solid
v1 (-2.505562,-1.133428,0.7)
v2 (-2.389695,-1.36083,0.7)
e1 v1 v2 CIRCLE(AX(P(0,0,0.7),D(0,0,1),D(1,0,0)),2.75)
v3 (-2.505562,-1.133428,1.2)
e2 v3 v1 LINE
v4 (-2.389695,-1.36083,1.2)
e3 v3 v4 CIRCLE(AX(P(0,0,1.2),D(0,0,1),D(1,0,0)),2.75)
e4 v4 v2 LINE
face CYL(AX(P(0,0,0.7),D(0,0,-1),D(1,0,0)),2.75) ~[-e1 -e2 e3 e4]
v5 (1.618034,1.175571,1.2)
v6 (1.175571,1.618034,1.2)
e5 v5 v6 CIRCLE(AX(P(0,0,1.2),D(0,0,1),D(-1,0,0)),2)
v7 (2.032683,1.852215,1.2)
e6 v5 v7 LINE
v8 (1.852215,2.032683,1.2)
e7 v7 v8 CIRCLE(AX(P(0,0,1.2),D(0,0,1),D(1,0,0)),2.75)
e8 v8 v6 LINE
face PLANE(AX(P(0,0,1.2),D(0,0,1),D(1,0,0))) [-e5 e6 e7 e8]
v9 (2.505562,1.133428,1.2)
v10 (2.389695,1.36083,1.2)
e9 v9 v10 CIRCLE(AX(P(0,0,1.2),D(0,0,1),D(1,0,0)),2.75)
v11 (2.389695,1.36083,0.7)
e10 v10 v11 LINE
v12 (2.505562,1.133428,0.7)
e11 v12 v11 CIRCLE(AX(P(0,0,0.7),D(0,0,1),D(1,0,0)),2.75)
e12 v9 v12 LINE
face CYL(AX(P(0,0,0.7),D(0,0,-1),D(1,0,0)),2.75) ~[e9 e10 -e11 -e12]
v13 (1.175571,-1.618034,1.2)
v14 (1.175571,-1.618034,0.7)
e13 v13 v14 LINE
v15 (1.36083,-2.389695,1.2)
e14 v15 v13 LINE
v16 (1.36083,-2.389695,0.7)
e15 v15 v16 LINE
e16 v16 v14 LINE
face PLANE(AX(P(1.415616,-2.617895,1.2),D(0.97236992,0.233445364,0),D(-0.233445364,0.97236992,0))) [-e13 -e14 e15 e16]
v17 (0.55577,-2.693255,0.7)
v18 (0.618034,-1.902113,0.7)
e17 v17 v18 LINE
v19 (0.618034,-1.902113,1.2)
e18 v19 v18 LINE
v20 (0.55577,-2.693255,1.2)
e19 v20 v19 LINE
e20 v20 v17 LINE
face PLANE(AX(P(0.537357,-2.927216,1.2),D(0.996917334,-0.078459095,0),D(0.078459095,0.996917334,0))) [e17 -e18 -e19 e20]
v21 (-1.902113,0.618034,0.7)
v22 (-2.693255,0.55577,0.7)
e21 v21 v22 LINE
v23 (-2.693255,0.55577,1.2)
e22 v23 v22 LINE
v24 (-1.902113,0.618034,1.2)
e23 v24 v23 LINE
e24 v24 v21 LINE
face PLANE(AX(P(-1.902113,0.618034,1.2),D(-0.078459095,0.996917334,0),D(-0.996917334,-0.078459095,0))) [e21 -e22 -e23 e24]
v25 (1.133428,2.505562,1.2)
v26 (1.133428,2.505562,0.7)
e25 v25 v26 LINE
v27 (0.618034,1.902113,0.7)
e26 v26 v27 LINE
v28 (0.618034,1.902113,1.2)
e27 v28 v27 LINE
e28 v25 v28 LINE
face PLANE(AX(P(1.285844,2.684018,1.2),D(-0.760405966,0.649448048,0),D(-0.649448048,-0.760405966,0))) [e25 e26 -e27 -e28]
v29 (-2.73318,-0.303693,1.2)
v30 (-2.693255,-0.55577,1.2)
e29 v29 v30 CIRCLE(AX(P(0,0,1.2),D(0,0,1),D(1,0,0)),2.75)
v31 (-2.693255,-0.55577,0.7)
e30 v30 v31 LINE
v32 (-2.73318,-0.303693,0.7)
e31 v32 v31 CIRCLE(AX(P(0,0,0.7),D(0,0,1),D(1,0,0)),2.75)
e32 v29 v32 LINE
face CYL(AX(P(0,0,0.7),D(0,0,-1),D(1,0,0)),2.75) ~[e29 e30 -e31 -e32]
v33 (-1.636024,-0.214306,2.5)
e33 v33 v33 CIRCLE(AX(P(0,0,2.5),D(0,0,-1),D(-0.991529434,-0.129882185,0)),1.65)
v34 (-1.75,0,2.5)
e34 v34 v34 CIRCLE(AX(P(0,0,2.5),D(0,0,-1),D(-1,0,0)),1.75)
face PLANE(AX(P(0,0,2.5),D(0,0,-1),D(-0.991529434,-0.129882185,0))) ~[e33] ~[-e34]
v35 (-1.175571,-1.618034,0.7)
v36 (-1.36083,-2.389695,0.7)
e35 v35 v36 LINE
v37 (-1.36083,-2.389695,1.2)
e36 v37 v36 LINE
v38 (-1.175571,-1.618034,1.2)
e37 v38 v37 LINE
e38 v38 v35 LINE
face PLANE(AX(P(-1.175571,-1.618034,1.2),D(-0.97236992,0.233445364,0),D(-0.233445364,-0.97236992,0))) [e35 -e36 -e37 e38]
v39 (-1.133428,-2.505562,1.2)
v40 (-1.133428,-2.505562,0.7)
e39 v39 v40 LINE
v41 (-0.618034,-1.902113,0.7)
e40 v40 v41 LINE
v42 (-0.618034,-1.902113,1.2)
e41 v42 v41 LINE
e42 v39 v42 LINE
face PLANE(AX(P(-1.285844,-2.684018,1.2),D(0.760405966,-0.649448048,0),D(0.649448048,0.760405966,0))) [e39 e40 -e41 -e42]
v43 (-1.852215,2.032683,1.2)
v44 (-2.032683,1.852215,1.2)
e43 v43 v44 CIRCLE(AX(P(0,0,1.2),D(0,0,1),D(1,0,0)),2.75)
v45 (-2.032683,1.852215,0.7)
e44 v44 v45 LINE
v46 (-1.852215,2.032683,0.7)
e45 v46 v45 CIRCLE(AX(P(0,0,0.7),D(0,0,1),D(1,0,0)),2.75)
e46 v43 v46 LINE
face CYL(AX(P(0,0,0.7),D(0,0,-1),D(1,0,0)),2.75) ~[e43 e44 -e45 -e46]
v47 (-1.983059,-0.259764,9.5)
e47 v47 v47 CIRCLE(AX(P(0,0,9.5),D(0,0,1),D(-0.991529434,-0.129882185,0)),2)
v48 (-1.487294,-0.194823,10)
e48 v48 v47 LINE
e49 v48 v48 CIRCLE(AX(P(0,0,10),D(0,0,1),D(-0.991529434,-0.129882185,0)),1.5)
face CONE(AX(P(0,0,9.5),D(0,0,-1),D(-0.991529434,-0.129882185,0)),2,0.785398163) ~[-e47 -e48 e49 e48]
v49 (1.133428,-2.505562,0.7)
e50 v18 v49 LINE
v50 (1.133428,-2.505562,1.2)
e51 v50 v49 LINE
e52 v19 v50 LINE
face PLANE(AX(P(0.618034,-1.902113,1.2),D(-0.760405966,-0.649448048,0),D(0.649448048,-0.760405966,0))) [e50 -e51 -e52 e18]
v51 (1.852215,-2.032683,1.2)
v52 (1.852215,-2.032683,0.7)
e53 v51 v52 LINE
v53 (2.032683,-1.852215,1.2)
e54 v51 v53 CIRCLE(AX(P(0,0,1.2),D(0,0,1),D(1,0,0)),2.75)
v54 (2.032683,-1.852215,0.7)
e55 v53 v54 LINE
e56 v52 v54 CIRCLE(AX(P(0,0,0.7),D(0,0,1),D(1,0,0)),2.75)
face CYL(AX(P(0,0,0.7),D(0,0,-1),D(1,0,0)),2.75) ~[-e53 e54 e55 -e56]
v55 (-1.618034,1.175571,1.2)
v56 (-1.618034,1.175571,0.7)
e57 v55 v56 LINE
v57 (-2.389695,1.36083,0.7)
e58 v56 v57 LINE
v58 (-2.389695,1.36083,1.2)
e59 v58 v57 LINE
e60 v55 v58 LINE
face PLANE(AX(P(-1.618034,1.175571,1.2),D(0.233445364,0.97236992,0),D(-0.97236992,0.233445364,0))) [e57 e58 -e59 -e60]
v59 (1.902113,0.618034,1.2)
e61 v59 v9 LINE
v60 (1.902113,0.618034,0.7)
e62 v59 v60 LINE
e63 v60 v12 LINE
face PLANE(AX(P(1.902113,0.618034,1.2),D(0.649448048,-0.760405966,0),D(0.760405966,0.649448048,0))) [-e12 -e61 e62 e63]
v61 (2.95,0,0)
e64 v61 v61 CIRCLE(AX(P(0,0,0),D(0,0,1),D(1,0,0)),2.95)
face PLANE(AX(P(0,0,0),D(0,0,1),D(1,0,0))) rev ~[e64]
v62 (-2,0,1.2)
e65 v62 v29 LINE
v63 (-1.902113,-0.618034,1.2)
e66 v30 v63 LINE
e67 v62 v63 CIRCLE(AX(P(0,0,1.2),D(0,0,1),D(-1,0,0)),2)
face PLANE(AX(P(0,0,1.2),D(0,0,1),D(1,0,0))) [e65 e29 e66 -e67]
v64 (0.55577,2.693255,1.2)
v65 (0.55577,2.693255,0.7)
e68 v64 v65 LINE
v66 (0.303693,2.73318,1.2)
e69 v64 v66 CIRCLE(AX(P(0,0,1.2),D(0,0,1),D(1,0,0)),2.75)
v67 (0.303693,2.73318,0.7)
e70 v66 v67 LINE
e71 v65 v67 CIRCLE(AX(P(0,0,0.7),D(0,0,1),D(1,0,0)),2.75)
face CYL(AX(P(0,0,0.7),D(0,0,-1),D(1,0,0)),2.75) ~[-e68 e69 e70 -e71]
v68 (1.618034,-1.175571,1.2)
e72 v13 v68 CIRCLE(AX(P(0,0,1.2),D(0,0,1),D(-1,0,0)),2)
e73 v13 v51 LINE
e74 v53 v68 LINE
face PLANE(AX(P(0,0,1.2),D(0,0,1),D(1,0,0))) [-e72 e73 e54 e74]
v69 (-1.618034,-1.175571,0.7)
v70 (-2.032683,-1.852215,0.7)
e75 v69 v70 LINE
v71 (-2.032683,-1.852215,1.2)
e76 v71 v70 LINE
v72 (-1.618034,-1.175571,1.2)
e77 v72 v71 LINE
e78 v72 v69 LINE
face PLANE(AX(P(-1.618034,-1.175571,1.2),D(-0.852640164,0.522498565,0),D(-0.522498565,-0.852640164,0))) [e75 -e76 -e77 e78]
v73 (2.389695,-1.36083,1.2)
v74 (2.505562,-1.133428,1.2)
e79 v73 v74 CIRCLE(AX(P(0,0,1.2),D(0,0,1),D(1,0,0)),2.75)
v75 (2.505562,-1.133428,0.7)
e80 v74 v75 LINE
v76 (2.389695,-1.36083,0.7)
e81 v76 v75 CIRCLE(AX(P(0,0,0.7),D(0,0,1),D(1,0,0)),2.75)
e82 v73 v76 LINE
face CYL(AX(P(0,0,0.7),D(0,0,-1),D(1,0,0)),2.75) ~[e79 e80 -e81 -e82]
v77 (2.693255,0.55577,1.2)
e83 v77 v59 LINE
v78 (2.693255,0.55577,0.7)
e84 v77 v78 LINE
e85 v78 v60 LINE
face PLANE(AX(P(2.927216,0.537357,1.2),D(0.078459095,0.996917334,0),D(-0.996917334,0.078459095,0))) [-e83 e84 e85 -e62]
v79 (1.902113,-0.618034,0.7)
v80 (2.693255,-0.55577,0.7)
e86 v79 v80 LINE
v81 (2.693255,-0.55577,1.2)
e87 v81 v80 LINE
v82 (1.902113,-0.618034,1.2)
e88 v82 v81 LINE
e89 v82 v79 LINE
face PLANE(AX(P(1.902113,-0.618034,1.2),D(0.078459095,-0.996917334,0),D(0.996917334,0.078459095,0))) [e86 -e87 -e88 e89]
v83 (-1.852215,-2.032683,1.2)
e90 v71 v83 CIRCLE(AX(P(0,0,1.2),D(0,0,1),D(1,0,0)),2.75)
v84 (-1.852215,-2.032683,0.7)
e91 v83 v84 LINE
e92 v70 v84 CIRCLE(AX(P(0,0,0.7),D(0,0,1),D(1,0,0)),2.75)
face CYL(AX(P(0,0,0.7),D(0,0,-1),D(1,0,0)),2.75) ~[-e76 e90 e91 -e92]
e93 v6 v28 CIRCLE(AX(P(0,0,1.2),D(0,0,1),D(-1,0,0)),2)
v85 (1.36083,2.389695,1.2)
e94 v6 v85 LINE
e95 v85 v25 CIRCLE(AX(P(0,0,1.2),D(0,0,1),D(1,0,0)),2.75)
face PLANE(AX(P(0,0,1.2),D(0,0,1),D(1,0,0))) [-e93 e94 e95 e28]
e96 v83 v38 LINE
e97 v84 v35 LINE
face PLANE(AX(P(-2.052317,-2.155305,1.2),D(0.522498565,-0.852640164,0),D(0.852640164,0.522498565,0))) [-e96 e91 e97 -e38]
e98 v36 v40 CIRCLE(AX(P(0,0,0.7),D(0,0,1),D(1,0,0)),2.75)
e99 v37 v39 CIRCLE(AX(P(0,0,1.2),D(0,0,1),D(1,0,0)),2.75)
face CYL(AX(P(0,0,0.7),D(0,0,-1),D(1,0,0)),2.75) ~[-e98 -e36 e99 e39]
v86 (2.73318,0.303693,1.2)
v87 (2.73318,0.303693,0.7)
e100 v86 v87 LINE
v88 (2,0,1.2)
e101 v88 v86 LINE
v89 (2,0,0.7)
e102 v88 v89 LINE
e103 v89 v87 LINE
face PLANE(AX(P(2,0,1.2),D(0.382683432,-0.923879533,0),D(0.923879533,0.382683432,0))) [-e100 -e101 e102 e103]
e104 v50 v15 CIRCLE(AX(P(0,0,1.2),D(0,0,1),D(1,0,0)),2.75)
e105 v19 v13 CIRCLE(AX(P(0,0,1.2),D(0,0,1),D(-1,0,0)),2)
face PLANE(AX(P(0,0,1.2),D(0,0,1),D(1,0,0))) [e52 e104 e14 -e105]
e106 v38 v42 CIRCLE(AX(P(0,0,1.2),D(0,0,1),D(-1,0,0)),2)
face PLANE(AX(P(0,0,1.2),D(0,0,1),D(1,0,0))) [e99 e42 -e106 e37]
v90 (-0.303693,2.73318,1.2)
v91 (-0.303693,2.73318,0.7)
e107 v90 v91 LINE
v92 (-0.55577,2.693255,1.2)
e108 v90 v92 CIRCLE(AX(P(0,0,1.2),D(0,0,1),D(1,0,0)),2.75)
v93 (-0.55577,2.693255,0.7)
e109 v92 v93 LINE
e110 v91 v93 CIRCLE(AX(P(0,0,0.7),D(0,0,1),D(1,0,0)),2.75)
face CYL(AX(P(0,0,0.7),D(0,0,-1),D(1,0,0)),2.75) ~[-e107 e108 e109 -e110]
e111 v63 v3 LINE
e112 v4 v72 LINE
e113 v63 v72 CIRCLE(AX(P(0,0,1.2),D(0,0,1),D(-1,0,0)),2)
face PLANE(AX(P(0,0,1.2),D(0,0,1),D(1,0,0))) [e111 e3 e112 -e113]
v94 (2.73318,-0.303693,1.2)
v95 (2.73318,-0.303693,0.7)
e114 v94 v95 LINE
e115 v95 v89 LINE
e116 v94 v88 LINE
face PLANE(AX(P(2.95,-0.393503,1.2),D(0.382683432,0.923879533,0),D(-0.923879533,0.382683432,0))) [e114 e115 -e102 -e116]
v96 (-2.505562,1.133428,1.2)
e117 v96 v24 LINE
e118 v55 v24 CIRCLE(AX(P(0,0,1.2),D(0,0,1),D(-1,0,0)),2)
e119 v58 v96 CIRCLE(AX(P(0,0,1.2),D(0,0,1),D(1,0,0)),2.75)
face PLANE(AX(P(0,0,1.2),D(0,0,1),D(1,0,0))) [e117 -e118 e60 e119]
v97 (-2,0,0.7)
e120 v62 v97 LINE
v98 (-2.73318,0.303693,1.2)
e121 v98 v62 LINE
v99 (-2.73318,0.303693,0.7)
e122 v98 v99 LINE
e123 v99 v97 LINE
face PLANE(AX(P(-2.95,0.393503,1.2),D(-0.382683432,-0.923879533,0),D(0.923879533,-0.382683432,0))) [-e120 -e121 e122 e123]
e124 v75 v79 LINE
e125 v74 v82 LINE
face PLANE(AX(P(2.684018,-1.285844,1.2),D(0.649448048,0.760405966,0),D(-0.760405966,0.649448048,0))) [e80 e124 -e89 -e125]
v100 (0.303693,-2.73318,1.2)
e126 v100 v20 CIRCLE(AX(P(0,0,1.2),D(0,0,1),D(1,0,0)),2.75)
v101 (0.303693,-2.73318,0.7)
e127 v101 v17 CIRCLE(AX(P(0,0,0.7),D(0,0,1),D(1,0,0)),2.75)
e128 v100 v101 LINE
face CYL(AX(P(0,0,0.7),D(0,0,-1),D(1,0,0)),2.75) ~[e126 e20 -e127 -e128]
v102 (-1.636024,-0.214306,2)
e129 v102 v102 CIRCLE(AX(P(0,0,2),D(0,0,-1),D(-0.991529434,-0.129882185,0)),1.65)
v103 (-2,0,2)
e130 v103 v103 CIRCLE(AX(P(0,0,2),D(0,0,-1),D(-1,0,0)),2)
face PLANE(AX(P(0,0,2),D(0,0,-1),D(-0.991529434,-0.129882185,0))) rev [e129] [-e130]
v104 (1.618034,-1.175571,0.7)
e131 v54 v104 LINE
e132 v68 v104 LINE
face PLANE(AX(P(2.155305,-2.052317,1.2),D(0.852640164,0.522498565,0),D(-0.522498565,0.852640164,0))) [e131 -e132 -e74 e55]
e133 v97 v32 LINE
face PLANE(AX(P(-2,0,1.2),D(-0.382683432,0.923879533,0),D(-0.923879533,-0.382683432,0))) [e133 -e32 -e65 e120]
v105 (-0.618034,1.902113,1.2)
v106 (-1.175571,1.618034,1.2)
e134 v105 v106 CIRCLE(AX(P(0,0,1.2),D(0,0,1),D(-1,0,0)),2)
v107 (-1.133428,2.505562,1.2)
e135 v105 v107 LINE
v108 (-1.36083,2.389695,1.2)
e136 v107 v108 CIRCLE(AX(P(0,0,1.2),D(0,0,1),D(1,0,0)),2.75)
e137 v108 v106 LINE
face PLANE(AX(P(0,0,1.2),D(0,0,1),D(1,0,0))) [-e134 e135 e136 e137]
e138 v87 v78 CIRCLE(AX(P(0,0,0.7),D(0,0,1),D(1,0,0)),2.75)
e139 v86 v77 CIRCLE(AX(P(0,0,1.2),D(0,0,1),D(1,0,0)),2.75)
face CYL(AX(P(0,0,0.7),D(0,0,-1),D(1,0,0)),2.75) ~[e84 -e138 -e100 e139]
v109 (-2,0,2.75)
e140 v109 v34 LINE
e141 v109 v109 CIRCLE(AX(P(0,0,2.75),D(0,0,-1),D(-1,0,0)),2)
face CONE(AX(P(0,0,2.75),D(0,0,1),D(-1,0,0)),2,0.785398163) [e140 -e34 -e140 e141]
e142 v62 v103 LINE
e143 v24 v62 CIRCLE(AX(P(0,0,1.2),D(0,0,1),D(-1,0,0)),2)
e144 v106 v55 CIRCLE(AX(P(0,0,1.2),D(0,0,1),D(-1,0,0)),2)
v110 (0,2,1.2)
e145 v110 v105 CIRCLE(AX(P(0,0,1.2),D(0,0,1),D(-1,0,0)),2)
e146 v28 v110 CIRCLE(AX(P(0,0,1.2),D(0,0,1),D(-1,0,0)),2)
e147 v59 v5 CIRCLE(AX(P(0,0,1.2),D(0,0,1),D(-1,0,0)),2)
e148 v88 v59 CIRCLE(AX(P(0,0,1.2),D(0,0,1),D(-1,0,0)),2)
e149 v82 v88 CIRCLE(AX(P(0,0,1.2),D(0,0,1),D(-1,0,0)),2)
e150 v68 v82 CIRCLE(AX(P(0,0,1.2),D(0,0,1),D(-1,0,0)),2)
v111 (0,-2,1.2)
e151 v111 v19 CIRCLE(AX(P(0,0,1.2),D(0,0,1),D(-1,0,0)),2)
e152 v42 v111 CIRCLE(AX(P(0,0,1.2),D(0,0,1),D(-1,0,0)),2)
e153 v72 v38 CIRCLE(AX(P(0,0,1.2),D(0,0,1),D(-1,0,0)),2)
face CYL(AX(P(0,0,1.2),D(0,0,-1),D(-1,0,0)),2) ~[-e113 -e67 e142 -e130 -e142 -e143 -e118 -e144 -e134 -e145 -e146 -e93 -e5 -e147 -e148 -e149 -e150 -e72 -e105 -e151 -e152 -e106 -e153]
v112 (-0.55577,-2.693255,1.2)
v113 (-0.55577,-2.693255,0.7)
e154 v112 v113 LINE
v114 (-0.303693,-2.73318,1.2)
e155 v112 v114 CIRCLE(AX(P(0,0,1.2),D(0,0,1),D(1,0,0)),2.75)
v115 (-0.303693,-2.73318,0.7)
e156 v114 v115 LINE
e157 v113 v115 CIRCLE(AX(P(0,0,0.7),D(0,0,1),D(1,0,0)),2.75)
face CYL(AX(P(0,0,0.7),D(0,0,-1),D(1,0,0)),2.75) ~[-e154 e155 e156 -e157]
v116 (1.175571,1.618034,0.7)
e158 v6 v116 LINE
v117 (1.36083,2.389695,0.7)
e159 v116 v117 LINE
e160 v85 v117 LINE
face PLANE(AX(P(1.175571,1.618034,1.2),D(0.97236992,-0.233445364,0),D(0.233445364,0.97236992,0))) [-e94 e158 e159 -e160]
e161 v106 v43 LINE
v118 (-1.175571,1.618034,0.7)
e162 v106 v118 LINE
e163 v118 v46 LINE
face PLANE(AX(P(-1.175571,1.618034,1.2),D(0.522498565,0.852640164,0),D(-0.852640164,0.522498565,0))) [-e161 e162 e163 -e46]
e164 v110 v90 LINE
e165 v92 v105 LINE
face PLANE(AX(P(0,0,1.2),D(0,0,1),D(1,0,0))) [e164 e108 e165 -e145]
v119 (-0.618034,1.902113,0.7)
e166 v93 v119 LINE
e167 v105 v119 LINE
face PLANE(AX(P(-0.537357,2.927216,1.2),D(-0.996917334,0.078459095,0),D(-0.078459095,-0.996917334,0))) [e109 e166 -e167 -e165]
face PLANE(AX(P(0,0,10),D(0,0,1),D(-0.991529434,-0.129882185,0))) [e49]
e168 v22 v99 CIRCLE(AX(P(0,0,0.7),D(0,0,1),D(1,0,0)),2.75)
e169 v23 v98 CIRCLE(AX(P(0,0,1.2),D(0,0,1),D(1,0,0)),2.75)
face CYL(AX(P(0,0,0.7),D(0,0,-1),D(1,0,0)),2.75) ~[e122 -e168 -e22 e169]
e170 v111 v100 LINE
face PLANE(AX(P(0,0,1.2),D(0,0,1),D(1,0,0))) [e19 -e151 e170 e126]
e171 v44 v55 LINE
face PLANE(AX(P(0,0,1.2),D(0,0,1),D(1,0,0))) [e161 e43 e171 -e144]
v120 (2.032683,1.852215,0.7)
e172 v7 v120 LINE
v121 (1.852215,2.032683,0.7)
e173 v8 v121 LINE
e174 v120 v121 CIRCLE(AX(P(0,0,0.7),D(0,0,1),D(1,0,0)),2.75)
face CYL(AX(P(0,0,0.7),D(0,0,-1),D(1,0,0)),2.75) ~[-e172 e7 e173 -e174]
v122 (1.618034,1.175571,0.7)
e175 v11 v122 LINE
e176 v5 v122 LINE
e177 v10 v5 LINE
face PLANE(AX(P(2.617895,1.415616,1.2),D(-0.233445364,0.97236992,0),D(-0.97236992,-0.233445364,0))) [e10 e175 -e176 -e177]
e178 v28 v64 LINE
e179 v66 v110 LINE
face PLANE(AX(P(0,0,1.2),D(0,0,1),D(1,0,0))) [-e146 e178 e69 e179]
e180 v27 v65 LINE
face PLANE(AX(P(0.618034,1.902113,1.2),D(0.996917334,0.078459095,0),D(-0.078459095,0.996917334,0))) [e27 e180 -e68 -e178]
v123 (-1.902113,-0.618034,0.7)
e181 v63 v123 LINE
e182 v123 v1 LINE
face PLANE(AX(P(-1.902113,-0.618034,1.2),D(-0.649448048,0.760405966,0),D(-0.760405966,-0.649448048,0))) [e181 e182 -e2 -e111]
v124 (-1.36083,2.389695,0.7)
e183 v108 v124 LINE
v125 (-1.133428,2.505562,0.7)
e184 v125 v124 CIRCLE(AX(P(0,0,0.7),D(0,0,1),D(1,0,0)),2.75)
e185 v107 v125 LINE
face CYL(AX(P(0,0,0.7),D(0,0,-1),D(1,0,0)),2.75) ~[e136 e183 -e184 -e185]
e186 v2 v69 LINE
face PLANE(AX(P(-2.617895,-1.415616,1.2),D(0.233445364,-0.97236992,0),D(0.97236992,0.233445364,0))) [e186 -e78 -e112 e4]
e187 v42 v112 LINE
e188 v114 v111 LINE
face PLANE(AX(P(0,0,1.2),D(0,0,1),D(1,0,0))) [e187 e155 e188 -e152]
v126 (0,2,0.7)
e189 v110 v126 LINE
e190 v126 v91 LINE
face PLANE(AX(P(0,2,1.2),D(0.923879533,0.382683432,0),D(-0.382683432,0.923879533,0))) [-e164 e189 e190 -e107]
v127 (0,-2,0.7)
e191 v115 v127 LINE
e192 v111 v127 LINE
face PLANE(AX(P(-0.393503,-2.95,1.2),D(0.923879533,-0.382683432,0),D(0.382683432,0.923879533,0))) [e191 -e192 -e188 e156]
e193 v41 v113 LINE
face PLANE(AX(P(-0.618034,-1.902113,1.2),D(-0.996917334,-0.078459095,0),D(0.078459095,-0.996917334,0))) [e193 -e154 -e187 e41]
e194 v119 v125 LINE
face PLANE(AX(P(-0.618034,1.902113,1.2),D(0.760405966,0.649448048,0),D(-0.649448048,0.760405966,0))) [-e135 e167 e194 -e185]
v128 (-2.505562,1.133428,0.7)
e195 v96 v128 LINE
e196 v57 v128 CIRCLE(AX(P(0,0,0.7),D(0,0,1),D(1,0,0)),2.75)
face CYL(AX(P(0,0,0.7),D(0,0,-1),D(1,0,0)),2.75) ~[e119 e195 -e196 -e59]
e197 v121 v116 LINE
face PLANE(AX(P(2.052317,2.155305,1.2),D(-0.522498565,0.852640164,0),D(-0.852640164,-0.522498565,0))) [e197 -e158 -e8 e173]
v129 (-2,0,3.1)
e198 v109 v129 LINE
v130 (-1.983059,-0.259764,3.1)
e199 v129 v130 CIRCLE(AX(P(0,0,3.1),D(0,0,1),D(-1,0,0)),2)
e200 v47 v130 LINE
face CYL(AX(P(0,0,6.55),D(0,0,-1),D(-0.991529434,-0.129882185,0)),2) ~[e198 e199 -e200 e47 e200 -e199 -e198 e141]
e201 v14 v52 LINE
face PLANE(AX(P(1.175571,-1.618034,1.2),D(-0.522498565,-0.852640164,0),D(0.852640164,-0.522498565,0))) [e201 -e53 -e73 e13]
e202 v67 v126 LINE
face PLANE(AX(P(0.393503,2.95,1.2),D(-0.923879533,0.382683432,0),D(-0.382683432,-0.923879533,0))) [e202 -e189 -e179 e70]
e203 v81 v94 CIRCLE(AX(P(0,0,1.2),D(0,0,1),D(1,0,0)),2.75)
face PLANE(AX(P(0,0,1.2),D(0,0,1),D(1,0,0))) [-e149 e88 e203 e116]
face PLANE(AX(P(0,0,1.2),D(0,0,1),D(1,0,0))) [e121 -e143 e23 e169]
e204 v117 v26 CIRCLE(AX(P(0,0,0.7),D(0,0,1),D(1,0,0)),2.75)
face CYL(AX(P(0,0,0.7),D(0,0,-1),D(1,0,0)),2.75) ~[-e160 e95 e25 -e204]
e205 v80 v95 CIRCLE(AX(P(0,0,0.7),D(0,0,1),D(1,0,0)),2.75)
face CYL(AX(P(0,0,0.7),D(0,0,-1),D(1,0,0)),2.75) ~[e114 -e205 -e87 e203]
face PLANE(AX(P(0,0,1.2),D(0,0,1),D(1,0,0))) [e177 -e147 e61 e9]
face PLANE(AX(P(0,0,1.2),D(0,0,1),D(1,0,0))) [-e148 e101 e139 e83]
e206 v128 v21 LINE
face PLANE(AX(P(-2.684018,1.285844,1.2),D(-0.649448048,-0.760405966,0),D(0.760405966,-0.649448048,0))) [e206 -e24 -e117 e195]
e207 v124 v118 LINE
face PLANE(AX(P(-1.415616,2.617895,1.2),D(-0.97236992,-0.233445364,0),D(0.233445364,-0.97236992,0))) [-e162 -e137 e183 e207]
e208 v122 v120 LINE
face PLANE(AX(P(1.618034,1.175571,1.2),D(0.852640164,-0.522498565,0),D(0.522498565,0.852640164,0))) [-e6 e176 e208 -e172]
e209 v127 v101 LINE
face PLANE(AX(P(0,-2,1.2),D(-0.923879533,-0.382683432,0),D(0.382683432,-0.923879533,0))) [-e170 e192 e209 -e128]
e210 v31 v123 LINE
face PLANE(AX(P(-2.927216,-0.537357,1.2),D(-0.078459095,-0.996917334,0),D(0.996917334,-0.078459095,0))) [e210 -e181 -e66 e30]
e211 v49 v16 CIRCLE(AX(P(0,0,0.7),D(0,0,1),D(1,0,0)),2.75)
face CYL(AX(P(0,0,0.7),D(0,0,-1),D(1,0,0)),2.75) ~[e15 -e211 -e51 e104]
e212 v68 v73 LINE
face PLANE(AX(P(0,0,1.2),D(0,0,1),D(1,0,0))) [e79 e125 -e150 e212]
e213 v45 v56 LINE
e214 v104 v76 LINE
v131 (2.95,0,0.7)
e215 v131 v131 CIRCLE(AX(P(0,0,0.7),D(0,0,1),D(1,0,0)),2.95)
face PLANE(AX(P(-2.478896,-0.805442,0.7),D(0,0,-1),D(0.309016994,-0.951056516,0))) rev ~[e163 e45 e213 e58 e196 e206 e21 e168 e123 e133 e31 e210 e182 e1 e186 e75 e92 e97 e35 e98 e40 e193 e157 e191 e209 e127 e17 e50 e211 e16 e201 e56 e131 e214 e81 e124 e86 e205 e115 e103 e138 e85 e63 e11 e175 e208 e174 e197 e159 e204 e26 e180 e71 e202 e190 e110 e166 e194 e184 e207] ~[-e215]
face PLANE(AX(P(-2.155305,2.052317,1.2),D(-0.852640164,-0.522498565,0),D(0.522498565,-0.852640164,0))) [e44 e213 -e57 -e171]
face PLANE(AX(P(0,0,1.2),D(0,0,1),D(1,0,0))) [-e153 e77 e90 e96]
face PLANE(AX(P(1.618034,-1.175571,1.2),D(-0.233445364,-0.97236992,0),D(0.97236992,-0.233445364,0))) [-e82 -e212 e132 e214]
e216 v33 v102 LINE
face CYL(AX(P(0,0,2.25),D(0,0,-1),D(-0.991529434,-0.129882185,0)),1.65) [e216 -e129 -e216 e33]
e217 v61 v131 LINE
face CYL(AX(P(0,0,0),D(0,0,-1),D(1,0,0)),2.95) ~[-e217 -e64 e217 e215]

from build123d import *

# Parameters (mm, degrees)
SKETCH_1_R               = 2.95
EXTRUDE_1_DEPTH          = 1.2
SKETCH_2_R               = 2
EXTRUDE_2_DEPTH          = 1.9
CUT_EXTRUDE_1_DEPTH      = 0.5
PATTERN_CIRCULAR_1_COUNT = 20
SKETCH_4_W               = 0.35
SKETCH_4_H               = 0.5
SKETCH_6_W               = 6.9
SKETCH_6_H               = 2
CHAMFER_2_SIZE           = 0.5
CUT_EXTRUDE_START        = -0.5
SKETCH_7_R               = 2.95
SKETCH_7_R_2             = 2.75
CUT_EXTRUDE_2_DEPTH      = 0.5
CHAMFER_3_SIZE           = 0.25


with BuildPart() as part:
    # Эскиз1 → Вытянуть1 (new body)
    with BuildSketch(Plane.XY):
        Circle(SKETCH_1_R)
    extrude(amount=EXTRUDE_1_DEPTH)

    # Эскиз2 → Вытянуть2 (add)
    with BuildSketch(Plane.XY.offset(1.2)):
        with Locations(Location((0, 0, 0), (0, 0, 180))):
            Circle(SKETCH_2_R)
    extrude(amount=EXTRUDE_2_DEPTH)

    # Эскиз3 → Вырез-Вытянуть1 (cut)
    with BuildSketch(Plane.XY.offset(1.2)):
        Polygon((-0.393502884, 2.95), (0.393502884, 2.95), (0, 2), align=None)
    cut_extrude_1 = extrude(amount=-CUT_EXTRUDE_1_DEPTH, mode=Mode.SUBTRACT)

    # Круговой массив1: Вырез-Вытянуть1 ×20 about axis
    pattern_circular_1_axis = Axis((0, 0, 0), (0, 0, 1))
    for i in range(1, PATTERN_CIRCULAR_1_COUNT):
        add(cut_extrude_1.rotate(pattern_circular_1_axis, i * 360 / PATTERN_CIRCULAR_1_COUNT), mode=Mode.SUBTRACT)

    # Эскиз4 → Вырез-Повернуть1 (revolve, cut)
    with BuildSketch(Plane(origin=(0, 0, 0), x_dir=(1, 0, 0), z_dir=(0, 1, 0)), mode=Mode.PRIVATE) as cut_revolve_1_sk:
        with Locations((1.825, -2.25)):
            Rectangle(SKETCH_4_W, SKETCH_4_H)
    revolve(cut_revolve_1_sk.sketch.rotate(Axis((0, 0, 10.642619983), (0, 0, -1)), 172.537215717), axis=Axis((0, 0, 10.642619983), (0, 0, -1)), mode=Mode.SUBTRACT)

    # Эскиз6 → Повернуть1 (revolve)
    with BuildSketch(Plane(origin=(0, 0, 0), x_dir=(0, 0, -1), z_dir=(1, 0, 0)), mode=Mode.PRIVATE) as revolve_1_sk:
        with Locations((-6.55, -1)):
            Rectangle(SKETCH_6_W, SKETCH_6_H)
    revolve(revolve_1_sk.sketch.rotate(Axis((0, 0, 3.1), (0, 0, 1)), 277.462784283), axis=Axis((0, 0, 3.1), (0, 0, 1)))

    # Фаска2
    chamfer_2_edges = [part.edges().sort_by_distance(p)[0] for p in [
        (1.983058868, 0.25976437, 10),
    ]]
    chamfer(chamfer_2_edges, length=CHAMFER_2_SIZE)

    # Эскиз7 → Вырез-Вытянуть2 (cut)
    with BuildSketch(Plane.XY.offset(1.2).offset(CUT_EXTRUDE_START)):
        with Locations(Location((0, 0, 0), (0, 0, 180))):
            Circle(SKETCH_7_R)
        Circle(SKETCH_7_R_2, mode=Mode.SUBTRACT)
    extrude(amount=CUT_EXTRUDE_2_DEPTH, mode=Mode.SUBTRACT)

    # Фаска3
    chamfer_3_edges = [part.edges().sort_by_distance(p)[0] for p in [
        (2, 0, 2.5),
    ]]
    chamfer(chamfer_3_edges, length=CHAMFER_3_SIZE)


solid = part.part
